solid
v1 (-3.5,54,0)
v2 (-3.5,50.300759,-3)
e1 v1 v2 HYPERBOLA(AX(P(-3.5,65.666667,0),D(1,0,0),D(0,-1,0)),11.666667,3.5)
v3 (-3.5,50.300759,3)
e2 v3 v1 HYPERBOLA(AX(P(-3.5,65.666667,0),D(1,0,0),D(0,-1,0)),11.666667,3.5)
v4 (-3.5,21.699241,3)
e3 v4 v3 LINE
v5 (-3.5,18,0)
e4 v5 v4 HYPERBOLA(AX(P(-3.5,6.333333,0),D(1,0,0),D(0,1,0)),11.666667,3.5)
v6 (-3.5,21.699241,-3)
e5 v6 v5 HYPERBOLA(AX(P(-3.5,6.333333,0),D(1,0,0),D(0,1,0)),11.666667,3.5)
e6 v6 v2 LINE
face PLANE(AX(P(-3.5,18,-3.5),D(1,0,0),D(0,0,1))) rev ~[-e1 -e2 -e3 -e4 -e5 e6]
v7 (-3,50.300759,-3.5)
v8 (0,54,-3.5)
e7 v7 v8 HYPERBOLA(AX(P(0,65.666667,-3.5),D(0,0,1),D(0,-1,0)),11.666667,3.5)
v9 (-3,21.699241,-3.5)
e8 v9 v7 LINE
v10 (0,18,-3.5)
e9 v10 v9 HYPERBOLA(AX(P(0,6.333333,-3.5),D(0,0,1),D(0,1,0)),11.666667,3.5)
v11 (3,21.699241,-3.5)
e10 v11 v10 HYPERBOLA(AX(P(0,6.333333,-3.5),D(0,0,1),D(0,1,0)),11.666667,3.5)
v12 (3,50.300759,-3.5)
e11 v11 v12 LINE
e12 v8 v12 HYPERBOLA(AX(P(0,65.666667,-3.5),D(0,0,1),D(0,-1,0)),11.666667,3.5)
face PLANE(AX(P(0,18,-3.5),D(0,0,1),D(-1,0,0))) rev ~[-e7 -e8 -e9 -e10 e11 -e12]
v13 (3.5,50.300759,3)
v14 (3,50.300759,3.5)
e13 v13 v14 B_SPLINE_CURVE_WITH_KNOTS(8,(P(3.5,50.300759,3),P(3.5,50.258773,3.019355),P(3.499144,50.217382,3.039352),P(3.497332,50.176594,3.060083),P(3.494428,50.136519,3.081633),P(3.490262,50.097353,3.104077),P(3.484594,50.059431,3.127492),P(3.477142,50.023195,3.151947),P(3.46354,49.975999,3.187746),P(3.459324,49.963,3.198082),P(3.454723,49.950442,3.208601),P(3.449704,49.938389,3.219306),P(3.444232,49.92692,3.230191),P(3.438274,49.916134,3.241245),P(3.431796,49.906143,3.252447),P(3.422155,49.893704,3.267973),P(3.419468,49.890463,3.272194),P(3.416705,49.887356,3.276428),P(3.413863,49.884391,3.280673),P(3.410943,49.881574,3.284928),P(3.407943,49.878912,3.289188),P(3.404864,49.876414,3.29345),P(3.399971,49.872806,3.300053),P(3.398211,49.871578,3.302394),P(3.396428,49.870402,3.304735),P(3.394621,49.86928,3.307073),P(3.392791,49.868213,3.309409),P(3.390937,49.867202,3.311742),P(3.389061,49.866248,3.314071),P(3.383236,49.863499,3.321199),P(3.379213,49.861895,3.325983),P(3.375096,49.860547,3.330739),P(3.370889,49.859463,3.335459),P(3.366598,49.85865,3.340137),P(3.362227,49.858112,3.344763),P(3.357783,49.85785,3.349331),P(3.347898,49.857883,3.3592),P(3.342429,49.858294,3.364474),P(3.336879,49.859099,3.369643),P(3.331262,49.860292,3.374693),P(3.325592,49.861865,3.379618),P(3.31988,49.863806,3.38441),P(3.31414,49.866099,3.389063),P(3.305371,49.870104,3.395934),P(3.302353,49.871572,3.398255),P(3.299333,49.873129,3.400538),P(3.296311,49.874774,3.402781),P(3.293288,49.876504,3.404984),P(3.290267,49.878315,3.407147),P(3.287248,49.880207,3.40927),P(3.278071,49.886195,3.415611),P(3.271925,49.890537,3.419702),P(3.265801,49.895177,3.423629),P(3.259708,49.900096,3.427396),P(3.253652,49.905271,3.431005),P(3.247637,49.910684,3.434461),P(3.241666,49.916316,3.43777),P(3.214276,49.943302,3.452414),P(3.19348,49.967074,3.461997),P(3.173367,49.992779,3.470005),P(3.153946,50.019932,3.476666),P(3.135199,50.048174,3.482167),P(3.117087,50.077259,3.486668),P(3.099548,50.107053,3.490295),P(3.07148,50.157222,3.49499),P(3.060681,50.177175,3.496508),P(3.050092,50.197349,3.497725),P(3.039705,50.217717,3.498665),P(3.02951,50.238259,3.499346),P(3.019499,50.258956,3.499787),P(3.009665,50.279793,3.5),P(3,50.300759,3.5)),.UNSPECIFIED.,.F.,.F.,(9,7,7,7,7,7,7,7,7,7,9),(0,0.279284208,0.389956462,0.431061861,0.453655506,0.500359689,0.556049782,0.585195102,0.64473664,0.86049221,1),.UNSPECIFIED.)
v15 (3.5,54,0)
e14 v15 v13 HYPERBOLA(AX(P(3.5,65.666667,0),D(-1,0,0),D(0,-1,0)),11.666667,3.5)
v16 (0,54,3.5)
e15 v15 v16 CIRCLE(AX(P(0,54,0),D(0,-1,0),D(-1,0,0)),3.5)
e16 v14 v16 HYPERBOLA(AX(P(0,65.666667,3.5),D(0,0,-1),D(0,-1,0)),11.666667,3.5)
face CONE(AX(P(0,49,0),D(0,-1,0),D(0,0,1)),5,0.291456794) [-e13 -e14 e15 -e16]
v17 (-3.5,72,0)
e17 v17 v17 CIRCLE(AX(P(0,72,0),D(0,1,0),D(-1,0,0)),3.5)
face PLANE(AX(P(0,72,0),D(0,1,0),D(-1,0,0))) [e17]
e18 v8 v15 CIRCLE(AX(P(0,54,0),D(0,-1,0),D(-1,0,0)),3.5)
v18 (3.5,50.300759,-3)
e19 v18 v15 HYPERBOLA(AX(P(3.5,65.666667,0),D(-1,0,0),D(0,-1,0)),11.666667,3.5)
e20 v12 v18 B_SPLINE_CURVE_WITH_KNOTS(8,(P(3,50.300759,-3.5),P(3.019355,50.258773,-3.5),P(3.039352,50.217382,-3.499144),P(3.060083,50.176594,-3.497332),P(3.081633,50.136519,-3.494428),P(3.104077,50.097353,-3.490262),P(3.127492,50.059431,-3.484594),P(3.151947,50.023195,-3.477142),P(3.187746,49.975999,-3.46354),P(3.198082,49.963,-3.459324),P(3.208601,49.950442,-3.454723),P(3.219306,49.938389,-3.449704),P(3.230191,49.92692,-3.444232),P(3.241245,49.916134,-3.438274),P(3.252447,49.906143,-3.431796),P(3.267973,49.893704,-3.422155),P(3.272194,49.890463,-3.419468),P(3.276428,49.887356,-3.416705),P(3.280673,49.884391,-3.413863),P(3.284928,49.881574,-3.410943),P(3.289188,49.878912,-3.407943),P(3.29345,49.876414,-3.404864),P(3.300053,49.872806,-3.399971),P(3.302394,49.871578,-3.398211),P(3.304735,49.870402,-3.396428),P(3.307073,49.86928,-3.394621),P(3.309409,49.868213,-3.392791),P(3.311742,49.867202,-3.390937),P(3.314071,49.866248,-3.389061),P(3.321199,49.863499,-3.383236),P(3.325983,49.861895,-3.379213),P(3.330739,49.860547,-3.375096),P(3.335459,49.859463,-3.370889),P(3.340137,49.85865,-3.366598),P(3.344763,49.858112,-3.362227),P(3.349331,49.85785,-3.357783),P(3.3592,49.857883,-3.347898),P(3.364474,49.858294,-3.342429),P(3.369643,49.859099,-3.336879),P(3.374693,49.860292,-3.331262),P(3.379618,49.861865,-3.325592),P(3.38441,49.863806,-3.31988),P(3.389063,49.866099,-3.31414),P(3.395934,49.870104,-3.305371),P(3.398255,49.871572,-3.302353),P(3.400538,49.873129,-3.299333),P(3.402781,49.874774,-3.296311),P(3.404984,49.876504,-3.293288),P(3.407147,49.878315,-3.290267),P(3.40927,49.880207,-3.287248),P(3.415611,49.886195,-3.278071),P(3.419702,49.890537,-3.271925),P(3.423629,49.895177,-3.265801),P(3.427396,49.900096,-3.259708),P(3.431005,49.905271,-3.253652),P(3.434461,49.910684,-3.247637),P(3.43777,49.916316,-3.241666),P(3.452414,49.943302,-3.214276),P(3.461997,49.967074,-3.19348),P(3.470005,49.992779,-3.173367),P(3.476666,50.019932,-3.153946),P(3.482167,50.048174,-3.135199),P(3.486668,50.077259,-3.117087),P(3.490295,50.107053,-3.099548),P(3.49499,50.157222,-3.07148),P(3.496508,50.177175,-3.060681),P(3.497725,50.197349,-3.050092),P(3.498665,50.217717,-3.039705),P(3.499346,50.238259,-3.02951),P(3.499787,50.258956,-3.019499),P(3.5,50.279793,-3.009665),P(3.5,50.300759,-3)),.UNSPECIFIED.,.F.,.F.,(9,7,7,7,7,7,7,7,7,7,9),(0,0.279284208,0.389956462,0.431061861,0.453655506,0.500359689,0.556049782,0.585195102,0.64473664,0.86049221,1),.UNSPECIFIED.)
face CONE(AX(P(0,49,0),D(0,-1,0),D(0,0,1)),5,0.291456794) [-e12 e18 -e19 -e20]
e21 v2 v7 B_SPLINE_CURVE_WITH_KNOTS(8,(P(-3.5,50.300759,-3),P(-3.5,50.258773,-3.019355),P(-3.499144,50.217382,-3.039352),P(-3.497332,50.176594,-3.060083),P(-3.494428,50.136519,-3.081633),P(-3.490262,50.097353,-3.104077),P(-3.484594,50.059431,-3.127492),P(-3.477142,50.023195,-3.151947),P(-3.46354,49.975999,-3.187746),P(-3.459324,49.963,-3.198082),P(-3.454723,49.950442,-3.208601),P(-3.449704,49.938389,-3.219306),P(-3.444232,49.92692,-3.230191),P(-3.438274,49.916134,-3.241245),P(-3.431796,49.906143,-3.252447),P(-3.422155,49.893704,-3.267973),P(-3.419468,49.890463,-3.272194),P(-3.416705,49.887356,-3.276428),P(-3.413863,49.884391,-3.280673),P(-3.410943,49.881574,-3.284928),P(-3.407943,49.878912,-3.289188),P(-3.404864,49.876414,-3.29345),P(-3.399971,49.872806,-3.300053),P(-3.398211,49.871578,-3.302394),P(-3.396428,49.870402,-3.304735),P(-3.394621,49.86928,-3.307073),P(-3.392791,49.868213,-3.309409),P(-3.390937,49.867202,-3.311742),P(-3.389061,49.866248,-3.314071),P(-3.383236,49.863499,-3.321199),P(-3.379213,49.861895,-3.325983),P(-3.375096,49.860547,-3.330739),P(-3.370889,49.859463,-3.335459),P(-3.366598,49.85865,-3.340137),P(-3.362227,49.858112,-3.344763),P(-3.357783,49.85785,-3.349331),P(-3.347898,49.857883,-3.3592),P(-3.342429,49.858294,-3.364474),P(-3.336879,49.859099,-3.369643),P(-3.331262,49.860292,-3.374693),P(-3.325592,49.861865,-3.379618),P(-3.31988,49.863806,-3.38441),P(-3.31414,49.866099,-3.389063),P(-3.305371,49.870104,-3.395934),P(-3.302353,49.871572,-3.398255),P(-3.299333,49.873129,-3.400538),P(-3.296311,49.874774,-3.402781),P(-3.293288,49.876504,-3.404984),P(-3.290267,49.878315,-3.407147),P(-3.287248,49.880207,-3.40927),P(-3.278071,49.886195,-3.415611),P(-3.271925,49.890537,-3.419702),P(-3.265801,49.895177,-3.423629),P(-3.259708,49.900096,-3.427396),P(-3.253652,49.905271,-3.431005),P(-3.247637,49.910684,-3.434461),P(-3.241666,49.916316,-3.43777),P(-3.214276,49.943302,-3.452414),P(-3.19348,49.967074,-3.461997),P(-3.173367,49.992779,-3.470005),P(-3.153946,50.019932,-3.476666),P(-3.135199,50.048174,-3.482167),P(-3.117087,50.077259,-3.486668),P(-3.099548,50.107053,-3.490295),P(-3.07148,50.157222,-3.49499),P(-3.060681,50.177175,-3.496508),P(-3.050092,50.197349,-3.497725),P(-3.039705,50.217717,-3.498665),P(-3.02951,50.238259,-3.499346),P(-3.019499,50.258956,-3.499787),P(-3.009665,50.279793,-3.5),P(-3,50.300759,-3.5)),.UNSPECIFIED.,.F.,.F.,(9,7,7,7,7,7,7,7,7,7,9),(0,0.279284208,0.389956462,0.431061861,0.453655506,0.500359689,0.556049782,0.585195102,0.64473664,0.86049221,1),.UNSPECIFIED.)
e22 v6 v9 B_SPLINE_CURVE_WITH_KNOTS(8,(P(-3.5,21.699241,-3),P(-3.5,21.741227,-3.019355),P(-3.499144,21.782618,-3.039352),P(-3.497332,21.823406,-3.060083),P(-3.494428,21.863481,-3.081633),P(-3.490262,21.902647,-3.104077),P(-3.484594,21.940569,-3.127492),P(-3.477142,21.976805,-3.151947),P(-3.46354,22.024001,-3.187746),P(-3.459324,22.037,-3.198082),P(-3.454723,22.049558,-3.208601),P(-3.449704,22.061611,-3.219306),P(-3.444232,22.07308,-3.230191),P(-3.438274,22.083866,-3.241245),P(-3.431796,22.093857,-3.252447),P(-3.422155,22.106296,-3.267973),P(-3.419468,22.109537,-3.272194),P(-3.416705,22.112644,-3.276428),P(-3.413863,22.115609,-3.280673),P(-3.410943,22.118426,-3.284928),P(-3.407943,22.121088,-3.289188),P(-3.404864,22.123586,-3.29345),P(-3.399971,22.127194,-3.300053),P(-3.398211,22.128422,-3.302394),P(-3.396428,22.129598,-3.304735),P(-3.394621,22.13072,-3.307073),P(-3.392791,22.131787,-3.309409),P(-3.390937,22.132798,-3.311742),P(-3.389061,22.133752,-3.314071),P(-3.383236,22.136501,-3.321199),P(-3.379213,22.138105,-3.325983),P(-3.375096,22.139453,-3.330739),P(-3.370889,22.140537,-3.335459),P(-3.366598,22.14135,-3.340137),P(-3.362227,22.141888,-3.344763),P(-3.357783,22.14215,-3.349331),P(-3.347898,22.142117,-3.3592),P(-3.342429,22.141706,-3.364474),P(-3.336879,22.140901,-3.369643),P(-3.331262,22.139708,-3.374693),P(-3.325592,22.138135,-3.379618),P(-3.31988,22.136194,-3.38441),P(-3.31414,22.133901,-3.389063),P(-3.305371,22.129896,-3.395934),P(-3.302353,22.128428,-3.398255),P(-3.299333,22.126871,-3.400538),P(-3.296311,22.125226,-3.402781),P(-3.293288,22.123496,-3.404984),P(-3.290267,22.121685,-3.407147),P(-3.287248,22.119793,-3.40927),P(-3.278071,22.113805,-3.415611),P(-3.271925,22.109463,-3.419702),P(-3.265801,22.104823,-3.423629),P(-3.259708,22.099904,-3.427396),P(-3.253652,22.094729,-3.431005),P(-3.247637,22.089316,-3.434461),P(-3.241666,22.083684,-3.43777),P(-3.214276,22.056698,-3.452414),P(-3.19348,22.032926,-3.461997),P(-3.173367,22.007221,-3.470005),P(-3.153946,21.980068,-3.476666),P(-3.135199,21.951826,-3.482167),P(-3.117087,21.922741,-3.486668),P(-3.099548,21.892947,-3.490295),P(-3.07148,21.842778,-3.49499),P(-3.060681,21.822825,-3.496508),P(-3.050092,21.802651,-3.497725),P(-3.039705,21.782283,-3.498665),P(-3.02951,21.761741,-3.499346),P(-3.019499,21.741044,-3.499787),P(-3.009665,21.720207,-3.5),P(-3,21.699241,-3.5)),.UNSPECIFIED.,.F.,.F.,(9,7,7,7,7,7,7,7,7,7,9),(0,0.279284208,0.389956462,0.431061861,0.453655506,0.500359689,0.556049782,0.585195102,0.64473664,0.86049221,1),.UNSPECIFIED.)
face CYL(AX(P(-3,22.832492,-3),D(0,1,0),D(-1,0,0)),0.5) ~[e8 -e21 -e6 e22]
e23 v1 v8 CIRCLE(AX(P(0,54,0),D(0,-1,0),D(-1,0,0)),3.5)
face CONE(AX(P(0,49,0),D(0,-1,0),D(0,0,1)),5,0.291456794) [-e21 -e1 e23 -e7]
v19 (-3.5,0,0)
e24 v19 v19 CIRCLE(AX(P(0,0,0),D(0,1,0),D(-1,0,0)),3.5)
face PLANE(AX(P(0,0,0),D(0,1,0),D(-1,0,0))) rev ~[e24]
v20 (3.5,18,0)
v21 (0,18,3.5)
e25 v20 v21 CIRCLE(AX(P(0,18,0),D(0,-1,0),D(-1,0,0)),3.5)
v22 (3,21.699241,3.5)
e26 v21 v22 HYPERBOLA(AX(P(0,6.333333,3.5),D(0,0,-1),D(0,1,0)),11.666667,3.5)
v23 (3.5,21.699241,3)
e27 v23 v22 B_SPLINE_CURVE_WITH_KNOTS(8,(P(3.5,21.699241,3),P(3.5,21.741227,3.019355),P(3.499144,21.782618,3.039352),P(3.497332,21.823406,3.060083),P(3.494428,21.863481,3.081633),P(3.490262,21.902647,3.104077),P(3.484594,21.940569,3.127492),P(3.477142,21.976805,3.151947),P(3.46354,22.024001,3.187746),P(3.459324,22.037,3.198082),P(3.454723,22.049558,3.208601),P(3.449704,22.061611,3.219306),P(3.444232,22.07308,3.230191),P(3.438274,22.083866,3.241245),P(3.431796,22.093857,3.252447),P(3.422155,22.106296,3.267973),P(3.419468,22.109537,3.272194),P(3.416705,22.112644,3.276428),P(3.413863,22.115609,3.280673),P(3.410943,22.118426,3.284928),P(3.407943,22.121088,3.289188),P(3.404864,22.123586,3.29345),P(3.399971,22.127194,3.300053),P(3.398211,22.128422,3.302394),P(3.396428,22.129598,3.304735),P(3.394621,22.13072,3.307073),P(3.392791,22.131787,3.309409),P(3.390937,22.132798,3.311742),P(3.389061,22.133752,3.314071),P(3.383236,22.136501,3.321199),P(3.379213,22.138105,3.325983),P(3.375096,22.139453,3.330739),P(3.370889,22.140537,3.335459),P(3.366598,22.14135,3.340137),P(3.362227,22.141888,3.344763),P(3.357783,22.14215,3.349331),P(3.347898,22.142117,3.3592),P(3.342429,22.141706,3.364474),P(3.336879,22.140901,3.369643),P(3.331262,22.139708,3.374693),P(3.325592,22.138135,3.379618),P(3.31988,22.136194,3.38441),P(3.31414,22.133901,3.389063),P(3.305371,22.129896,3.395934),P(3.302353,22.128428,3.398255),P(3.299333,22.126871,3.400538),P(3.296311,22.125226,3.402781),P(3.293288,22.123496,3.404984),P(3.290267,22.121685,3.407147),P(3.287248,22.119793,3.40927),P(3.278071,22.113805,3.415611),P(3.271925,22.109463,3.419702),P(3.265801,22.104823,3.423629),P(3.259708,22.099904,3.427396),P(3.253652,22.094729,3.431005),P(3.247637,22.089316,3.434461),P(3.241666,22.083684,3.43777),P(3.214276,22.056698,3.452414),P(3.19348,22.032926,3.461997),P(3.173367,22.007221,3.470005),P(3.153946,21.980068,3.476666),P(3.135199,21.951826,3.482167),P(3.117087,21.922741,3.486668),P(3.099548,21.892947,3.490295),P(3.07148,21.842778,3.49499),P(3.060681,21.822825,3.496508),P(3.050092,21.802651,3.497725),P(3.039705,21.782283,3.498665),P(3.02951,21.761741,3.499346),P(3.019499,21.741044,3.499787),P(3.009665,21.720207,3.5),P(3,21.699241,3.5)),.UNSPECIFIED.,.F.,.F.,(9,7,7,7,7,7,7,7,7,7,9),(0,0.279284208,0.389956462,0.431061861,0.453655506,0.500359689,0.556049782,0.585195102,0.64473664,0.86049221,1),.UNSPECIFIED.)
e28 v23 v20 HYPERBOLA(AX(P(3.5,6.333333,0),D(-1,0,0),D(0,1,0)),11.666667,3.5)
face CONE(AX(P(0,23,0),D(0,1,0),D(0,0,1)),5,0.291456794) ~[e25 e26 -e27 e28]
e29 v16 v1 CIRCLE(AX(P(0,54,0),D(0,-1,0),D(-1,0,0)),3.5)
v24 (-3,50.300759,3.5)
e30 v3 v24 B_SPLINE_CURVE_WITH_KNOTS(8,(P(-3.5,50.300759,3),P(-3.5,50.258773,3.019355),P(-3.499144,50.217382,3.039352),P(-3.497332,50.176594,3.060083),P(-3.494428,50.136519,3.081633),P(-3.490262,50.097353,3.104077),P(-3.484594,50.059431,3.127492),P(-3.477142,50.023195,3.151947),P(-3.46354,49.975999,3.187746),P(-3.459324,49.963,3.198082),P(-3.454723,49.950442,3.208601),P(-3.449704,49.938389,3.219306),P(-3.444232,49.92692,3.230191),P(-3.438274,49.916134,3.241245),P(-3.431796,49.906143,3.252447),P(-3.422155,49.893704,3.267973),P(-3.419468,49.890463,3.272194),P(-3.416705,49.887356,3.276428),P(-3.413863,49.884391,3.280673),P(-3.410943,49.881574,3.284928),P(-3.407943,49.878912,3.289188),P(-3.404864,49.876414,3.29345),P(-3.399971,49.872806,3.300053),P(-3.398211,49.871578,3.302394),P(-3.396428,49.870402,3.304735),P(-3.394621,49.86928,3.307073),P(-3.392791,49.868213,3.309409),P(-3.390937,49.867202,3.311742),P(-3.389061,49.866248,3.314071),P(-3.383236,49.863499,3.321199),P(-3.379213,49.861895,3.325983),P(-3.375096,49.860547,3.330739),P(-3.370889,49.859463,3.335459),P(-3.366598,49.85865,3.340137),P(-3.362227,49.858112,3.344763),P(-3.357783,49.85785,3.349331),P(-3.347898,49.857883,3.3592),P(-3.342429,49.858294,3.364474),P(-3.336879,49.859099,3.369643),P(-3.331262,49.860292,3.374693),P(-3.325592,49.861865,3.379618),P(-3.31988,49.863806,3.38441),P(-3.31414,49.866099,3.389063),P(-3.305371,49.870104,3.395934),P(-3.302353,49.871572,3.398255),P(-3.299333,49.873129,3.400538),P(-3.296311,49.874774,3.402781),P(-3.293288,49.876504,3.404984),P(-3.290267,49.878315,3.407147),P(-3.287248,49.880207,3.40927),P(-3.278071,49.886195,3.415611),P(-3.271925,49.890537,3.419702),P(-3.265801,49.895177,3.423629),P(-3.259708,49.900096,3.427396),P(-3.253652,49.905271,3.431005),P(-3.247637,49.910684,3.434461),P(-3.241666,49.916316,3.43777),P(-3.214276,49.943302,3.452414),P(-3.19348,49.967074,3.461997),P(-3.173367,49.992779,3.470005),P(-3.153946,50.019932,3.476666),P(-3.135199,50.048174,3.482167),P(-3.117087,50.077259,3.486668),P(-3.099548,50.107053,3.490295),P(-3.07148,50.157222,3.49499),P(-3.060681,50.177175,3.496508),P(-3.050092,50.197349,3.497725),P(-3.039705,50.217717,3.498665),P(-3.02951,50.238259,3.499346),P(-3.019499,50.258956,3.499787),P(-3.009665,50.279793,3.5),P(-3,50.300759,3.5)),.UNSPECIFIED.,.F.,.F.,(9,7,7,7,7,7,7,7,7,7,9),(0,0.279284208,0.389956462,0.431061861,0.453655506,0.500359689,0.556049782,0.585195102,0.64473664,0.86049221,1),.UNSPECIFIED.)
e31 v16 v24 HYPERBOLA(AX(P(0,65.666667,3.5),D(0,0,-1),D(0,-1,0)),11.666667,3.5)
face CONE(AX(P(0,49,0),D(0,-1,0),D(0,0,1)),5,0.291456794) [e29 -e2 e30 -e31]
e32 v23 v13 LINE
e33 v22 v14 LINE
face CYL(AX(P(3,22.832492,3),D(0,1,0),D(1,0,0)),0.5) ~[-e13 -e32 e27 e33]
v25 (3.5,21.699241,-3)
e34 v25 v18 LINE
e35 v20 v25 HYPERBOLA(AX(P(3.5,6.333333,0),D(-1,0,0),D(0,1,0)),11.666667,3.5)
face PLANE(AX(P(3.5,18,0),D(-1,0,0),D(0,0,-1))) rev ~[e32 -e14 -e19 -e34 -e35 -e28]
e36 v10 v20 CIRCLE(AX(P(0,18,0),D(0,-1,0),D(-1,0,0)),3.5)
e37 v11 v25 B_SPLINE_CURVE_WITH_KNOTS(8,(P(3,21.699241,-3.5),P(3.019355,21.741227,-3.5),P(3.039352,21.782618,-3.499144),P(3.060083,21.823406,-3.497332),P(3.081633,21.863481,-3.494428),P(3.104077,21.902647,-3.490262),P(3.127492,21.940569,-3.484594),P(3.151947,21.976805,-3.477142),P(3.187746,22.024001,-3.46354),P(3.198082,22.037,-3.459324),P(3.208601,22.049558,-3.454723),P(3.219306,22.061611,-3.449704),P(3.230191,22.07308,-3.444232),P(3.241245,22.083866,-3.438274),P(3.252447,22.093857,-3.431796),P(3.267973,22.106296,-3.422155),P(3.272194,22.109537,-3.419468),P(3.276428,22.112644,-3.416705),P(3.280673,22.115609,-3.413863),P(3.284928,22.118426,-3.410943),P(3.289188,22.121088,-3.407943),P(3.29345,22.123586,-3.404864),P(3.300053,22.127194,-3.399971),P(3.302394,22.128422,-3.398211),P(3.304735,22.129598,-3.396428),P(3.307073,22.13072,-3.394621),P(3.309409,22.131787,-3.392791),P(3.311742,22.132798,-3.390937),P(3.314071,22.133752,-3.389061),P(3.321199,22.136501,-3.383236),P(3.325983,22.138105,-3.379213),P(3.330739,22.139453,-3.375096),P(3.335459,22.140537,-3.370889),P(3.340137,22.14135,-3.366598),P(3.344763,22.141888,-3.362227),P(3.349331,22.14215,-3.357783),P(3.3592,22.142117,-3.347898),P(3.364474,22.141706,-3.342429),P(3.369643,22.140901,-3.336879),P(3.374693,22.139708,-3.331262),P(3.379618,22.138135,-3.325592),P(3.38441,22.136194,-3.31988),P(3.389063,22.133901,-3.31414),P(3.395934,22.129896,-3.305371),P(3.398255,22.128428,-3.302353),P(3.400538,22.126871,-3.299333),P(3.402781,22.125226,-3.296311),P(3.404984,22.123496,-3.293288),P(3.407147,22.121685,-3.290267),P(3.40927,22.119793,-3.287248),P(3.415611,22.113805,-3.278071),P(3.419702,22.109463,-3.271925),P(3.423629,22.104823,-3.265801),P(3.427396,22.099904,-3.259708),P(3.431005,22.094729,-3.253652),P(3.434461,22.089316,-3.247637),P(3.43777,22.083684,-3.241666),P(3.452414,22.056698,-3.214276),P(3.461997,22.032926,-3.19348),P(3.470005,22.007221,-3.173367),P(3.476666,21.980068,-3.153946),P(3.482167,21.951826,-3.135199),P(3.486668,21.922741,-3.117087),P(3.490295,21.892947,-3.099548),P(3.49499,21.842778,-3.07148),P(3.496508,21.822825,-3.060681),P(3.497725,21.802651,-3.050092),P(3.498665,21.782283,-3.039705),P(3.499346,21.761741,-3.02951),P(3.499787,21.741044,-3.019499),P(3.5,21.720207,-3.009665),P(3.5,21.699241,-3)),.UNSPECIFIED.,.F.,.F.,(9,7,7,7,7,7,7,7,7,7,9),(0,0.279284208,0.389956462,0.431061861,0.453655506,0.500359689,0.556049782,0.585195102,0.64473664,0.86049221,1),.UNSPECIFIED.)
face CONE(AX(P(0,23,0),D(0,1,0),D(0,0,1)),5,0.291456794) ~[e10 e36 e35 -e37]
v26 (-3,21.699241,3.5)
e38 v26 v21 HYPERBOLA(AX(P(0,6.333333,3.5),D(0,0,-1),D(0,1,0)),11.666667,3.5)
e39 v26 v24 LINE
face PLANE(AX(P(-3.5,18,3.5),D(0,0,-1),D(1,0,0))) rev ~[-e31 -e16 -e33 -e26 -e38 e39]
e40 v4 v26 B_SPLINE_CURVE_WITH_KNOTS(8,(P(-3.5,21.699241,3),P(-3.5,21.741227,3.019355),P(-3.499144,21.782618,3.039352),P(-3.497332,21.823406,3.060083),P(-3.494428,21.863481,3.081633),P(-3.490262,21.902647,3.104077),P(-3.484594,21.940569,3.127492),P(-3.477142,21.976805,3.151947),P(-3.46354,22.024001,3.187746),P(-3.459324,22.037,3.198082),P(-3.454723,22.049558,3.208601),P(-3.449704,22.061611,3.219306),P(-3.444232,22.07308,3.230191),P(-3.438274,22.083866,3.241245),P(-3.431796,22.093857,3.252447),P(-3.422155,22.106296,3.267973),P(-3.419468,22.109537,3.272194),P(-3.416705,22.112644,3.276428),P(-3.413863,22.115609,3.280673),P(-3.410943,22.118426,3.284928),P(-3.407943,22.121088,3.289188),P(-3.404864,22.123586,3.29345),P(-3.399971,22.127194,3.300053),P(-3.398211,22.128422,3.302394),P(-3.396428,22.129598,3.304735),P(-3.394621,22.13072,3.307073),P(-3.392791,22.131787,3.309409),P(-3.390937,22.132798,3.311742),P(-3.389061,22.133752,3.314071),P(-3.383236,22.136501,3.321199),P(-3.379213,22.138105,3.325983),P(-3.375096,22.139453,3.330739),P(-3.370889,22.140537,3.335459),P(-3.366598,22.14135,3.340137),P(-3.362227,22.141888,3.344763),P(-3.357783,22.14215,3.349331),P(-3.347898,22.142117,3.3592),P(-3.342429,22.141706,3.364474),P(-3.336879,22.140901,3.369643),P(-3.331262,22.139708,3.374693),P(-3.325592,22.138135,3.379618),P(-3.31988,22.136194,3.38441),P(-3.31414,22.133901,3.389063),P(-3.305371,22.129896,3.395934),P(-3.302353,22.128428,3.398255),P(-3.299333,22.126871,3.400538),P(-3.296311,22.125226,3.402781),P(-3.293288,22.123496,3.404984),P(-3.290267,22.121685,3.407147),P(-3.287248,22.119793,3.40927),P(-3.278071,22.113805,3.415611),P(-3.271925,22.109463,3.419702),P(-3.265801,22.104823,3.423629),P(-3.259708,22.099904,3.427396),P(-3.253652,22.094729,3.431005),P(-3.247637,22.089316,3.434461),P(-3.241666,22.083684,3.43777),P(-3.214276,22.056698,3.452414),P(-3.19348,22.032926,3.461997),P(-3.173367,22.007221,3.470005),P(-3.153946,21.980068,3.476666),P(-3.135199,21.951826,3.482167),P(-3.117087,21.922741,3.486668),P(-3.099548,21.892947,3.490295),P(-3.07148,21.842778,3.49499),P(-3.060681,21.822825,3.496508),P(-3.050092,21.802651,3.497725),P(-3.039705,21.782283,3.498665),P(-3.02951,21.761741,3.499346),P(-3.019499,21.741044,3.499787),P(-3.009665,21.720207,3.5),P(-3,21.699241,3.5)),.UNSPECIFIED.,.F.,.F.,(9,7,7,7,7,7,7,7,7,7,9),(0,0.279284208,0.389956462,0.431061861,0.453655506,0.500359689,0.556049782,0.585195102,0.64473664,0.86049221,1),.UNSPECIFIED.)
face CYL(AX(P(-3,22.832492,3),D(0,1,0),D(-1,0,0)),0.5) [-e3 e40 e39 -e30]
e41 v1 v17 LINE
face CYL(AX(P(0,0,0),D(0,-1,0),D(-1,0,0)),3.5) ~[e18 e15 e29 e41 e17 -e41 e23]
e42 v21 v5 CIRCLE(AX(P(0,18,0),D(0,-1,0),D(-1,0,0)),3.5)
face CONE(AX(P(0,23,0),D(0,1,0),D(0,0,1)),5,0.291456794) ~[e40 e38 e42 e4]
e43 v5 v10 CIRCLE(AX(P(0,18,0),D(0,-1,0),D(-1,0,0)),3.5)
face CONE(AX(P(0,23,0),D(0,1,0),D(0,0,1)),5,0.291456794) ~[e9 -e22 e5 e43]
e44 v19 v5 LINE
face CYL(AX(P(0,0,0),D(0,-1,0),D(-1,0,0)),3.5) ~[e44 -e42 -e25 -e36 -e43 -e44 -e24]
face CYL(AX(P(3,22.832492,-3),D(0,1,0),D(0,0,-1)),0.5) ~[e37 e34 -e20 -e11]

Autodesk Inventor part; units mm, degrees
ref_plane "YZ Plane" through (0, 0, 0) normal (1, 0, 0) x (0, 1, 0)
ref_plane "XY Plane" through (0, 0, 0) normal (0, 0, 1) x (1, 0, 0)
sketch "Boceto1" plane through (0, 0, 0) normal (0, 1, 0) x (-1, 0, 0)
  circle A0 centre (0, 0) radius 3.5
  dimension "d0" = 7
extrude "Extrusión1" add sketch "Boceto1" along normal blind 72
ref_plane "Plano de trabajo1" through (0, 18, 0) normal (0, 1, 0) x (-1, 0, 0)
sketch "Boceto3" plane through (0, 18, 0) normal (0, 1, 0) x (-1, 0, 0)
  line L0 (-3.5, 0) -> (-3.5, -3.5)
  line L1 (-3.5, -3.5) -> (0, -3.5)
  line L2 (-3.5, -3.5) -> (3.5, -3.5)
  line L3 (3.5, -3.5) -> (3.5, 3.5)
  line L4 (3.5, 3.5) -> (-3.5, 3.5)
  line L5 (-3.5, 3.5) -> (-3.5, -3.5)
  point P0 (0, 0)
  dimension "d26" = 3.5
  dimension "d27" = 3.5
  dimension "d28" = 7
  dimension "d29" = 7
extrude "Extrusión3" add sketch "Boceto3" along normal blind 36
sketch "Boceto4" plane through (0, 0, 0) normal (1, 0, 0) x (0, 1, 0)
  line L0 (0, 0) -> (18, 0)
  line L1 (18, 0) -> (18, 3.5)
  line L2 (23, 5) -> (18, 3.5)
  line L3 (18, 0) -> (54, 0)
  line L4 (54, 0) -> (54, 3.5)
  line L5 (49, 5) -> (54, 3.5)
  line L6 (23, 5) -> (24.5315, 10.105)
  line L7 (24.5315, 10.105) -> (47.4685, 10.105)
  line L8 (18, 3.5) -> (7.2687, 12.5016)
  line L9 (7.2687, 12.5016) -> (61.5507, 12.5016)
  line L10 (61.5507, 12.5016) -> (54, 3.5)
  line L11 (49, 5) -> (47.4685, 10.105)
  dimension "d31" = 18
  dimension "d32" = 3.5
  dimension "d36" = 3.5
revolve "Revolución2" cut sketch "Boceto4" angle 360 about axis through (0, 0, 0) along (0, 1, 0) contours L8 L9 L10 L5 L11 L7 L6 L2
fillet "Empalme1" radius 0.5 4 edges at (3.5, 36, 3.5) (-3.5, 36, 3.5) (3.5, 36, -3.5) (-3.5, 36, -3.5)
thread "Rosca1" size "M7x1" class "6g" standard "ANSI Metric M Profile" full length
thread "Rosca2" size "M7x1" class "6g" standard "ANSI Metric M Profile" full length
properties material "Acero"
